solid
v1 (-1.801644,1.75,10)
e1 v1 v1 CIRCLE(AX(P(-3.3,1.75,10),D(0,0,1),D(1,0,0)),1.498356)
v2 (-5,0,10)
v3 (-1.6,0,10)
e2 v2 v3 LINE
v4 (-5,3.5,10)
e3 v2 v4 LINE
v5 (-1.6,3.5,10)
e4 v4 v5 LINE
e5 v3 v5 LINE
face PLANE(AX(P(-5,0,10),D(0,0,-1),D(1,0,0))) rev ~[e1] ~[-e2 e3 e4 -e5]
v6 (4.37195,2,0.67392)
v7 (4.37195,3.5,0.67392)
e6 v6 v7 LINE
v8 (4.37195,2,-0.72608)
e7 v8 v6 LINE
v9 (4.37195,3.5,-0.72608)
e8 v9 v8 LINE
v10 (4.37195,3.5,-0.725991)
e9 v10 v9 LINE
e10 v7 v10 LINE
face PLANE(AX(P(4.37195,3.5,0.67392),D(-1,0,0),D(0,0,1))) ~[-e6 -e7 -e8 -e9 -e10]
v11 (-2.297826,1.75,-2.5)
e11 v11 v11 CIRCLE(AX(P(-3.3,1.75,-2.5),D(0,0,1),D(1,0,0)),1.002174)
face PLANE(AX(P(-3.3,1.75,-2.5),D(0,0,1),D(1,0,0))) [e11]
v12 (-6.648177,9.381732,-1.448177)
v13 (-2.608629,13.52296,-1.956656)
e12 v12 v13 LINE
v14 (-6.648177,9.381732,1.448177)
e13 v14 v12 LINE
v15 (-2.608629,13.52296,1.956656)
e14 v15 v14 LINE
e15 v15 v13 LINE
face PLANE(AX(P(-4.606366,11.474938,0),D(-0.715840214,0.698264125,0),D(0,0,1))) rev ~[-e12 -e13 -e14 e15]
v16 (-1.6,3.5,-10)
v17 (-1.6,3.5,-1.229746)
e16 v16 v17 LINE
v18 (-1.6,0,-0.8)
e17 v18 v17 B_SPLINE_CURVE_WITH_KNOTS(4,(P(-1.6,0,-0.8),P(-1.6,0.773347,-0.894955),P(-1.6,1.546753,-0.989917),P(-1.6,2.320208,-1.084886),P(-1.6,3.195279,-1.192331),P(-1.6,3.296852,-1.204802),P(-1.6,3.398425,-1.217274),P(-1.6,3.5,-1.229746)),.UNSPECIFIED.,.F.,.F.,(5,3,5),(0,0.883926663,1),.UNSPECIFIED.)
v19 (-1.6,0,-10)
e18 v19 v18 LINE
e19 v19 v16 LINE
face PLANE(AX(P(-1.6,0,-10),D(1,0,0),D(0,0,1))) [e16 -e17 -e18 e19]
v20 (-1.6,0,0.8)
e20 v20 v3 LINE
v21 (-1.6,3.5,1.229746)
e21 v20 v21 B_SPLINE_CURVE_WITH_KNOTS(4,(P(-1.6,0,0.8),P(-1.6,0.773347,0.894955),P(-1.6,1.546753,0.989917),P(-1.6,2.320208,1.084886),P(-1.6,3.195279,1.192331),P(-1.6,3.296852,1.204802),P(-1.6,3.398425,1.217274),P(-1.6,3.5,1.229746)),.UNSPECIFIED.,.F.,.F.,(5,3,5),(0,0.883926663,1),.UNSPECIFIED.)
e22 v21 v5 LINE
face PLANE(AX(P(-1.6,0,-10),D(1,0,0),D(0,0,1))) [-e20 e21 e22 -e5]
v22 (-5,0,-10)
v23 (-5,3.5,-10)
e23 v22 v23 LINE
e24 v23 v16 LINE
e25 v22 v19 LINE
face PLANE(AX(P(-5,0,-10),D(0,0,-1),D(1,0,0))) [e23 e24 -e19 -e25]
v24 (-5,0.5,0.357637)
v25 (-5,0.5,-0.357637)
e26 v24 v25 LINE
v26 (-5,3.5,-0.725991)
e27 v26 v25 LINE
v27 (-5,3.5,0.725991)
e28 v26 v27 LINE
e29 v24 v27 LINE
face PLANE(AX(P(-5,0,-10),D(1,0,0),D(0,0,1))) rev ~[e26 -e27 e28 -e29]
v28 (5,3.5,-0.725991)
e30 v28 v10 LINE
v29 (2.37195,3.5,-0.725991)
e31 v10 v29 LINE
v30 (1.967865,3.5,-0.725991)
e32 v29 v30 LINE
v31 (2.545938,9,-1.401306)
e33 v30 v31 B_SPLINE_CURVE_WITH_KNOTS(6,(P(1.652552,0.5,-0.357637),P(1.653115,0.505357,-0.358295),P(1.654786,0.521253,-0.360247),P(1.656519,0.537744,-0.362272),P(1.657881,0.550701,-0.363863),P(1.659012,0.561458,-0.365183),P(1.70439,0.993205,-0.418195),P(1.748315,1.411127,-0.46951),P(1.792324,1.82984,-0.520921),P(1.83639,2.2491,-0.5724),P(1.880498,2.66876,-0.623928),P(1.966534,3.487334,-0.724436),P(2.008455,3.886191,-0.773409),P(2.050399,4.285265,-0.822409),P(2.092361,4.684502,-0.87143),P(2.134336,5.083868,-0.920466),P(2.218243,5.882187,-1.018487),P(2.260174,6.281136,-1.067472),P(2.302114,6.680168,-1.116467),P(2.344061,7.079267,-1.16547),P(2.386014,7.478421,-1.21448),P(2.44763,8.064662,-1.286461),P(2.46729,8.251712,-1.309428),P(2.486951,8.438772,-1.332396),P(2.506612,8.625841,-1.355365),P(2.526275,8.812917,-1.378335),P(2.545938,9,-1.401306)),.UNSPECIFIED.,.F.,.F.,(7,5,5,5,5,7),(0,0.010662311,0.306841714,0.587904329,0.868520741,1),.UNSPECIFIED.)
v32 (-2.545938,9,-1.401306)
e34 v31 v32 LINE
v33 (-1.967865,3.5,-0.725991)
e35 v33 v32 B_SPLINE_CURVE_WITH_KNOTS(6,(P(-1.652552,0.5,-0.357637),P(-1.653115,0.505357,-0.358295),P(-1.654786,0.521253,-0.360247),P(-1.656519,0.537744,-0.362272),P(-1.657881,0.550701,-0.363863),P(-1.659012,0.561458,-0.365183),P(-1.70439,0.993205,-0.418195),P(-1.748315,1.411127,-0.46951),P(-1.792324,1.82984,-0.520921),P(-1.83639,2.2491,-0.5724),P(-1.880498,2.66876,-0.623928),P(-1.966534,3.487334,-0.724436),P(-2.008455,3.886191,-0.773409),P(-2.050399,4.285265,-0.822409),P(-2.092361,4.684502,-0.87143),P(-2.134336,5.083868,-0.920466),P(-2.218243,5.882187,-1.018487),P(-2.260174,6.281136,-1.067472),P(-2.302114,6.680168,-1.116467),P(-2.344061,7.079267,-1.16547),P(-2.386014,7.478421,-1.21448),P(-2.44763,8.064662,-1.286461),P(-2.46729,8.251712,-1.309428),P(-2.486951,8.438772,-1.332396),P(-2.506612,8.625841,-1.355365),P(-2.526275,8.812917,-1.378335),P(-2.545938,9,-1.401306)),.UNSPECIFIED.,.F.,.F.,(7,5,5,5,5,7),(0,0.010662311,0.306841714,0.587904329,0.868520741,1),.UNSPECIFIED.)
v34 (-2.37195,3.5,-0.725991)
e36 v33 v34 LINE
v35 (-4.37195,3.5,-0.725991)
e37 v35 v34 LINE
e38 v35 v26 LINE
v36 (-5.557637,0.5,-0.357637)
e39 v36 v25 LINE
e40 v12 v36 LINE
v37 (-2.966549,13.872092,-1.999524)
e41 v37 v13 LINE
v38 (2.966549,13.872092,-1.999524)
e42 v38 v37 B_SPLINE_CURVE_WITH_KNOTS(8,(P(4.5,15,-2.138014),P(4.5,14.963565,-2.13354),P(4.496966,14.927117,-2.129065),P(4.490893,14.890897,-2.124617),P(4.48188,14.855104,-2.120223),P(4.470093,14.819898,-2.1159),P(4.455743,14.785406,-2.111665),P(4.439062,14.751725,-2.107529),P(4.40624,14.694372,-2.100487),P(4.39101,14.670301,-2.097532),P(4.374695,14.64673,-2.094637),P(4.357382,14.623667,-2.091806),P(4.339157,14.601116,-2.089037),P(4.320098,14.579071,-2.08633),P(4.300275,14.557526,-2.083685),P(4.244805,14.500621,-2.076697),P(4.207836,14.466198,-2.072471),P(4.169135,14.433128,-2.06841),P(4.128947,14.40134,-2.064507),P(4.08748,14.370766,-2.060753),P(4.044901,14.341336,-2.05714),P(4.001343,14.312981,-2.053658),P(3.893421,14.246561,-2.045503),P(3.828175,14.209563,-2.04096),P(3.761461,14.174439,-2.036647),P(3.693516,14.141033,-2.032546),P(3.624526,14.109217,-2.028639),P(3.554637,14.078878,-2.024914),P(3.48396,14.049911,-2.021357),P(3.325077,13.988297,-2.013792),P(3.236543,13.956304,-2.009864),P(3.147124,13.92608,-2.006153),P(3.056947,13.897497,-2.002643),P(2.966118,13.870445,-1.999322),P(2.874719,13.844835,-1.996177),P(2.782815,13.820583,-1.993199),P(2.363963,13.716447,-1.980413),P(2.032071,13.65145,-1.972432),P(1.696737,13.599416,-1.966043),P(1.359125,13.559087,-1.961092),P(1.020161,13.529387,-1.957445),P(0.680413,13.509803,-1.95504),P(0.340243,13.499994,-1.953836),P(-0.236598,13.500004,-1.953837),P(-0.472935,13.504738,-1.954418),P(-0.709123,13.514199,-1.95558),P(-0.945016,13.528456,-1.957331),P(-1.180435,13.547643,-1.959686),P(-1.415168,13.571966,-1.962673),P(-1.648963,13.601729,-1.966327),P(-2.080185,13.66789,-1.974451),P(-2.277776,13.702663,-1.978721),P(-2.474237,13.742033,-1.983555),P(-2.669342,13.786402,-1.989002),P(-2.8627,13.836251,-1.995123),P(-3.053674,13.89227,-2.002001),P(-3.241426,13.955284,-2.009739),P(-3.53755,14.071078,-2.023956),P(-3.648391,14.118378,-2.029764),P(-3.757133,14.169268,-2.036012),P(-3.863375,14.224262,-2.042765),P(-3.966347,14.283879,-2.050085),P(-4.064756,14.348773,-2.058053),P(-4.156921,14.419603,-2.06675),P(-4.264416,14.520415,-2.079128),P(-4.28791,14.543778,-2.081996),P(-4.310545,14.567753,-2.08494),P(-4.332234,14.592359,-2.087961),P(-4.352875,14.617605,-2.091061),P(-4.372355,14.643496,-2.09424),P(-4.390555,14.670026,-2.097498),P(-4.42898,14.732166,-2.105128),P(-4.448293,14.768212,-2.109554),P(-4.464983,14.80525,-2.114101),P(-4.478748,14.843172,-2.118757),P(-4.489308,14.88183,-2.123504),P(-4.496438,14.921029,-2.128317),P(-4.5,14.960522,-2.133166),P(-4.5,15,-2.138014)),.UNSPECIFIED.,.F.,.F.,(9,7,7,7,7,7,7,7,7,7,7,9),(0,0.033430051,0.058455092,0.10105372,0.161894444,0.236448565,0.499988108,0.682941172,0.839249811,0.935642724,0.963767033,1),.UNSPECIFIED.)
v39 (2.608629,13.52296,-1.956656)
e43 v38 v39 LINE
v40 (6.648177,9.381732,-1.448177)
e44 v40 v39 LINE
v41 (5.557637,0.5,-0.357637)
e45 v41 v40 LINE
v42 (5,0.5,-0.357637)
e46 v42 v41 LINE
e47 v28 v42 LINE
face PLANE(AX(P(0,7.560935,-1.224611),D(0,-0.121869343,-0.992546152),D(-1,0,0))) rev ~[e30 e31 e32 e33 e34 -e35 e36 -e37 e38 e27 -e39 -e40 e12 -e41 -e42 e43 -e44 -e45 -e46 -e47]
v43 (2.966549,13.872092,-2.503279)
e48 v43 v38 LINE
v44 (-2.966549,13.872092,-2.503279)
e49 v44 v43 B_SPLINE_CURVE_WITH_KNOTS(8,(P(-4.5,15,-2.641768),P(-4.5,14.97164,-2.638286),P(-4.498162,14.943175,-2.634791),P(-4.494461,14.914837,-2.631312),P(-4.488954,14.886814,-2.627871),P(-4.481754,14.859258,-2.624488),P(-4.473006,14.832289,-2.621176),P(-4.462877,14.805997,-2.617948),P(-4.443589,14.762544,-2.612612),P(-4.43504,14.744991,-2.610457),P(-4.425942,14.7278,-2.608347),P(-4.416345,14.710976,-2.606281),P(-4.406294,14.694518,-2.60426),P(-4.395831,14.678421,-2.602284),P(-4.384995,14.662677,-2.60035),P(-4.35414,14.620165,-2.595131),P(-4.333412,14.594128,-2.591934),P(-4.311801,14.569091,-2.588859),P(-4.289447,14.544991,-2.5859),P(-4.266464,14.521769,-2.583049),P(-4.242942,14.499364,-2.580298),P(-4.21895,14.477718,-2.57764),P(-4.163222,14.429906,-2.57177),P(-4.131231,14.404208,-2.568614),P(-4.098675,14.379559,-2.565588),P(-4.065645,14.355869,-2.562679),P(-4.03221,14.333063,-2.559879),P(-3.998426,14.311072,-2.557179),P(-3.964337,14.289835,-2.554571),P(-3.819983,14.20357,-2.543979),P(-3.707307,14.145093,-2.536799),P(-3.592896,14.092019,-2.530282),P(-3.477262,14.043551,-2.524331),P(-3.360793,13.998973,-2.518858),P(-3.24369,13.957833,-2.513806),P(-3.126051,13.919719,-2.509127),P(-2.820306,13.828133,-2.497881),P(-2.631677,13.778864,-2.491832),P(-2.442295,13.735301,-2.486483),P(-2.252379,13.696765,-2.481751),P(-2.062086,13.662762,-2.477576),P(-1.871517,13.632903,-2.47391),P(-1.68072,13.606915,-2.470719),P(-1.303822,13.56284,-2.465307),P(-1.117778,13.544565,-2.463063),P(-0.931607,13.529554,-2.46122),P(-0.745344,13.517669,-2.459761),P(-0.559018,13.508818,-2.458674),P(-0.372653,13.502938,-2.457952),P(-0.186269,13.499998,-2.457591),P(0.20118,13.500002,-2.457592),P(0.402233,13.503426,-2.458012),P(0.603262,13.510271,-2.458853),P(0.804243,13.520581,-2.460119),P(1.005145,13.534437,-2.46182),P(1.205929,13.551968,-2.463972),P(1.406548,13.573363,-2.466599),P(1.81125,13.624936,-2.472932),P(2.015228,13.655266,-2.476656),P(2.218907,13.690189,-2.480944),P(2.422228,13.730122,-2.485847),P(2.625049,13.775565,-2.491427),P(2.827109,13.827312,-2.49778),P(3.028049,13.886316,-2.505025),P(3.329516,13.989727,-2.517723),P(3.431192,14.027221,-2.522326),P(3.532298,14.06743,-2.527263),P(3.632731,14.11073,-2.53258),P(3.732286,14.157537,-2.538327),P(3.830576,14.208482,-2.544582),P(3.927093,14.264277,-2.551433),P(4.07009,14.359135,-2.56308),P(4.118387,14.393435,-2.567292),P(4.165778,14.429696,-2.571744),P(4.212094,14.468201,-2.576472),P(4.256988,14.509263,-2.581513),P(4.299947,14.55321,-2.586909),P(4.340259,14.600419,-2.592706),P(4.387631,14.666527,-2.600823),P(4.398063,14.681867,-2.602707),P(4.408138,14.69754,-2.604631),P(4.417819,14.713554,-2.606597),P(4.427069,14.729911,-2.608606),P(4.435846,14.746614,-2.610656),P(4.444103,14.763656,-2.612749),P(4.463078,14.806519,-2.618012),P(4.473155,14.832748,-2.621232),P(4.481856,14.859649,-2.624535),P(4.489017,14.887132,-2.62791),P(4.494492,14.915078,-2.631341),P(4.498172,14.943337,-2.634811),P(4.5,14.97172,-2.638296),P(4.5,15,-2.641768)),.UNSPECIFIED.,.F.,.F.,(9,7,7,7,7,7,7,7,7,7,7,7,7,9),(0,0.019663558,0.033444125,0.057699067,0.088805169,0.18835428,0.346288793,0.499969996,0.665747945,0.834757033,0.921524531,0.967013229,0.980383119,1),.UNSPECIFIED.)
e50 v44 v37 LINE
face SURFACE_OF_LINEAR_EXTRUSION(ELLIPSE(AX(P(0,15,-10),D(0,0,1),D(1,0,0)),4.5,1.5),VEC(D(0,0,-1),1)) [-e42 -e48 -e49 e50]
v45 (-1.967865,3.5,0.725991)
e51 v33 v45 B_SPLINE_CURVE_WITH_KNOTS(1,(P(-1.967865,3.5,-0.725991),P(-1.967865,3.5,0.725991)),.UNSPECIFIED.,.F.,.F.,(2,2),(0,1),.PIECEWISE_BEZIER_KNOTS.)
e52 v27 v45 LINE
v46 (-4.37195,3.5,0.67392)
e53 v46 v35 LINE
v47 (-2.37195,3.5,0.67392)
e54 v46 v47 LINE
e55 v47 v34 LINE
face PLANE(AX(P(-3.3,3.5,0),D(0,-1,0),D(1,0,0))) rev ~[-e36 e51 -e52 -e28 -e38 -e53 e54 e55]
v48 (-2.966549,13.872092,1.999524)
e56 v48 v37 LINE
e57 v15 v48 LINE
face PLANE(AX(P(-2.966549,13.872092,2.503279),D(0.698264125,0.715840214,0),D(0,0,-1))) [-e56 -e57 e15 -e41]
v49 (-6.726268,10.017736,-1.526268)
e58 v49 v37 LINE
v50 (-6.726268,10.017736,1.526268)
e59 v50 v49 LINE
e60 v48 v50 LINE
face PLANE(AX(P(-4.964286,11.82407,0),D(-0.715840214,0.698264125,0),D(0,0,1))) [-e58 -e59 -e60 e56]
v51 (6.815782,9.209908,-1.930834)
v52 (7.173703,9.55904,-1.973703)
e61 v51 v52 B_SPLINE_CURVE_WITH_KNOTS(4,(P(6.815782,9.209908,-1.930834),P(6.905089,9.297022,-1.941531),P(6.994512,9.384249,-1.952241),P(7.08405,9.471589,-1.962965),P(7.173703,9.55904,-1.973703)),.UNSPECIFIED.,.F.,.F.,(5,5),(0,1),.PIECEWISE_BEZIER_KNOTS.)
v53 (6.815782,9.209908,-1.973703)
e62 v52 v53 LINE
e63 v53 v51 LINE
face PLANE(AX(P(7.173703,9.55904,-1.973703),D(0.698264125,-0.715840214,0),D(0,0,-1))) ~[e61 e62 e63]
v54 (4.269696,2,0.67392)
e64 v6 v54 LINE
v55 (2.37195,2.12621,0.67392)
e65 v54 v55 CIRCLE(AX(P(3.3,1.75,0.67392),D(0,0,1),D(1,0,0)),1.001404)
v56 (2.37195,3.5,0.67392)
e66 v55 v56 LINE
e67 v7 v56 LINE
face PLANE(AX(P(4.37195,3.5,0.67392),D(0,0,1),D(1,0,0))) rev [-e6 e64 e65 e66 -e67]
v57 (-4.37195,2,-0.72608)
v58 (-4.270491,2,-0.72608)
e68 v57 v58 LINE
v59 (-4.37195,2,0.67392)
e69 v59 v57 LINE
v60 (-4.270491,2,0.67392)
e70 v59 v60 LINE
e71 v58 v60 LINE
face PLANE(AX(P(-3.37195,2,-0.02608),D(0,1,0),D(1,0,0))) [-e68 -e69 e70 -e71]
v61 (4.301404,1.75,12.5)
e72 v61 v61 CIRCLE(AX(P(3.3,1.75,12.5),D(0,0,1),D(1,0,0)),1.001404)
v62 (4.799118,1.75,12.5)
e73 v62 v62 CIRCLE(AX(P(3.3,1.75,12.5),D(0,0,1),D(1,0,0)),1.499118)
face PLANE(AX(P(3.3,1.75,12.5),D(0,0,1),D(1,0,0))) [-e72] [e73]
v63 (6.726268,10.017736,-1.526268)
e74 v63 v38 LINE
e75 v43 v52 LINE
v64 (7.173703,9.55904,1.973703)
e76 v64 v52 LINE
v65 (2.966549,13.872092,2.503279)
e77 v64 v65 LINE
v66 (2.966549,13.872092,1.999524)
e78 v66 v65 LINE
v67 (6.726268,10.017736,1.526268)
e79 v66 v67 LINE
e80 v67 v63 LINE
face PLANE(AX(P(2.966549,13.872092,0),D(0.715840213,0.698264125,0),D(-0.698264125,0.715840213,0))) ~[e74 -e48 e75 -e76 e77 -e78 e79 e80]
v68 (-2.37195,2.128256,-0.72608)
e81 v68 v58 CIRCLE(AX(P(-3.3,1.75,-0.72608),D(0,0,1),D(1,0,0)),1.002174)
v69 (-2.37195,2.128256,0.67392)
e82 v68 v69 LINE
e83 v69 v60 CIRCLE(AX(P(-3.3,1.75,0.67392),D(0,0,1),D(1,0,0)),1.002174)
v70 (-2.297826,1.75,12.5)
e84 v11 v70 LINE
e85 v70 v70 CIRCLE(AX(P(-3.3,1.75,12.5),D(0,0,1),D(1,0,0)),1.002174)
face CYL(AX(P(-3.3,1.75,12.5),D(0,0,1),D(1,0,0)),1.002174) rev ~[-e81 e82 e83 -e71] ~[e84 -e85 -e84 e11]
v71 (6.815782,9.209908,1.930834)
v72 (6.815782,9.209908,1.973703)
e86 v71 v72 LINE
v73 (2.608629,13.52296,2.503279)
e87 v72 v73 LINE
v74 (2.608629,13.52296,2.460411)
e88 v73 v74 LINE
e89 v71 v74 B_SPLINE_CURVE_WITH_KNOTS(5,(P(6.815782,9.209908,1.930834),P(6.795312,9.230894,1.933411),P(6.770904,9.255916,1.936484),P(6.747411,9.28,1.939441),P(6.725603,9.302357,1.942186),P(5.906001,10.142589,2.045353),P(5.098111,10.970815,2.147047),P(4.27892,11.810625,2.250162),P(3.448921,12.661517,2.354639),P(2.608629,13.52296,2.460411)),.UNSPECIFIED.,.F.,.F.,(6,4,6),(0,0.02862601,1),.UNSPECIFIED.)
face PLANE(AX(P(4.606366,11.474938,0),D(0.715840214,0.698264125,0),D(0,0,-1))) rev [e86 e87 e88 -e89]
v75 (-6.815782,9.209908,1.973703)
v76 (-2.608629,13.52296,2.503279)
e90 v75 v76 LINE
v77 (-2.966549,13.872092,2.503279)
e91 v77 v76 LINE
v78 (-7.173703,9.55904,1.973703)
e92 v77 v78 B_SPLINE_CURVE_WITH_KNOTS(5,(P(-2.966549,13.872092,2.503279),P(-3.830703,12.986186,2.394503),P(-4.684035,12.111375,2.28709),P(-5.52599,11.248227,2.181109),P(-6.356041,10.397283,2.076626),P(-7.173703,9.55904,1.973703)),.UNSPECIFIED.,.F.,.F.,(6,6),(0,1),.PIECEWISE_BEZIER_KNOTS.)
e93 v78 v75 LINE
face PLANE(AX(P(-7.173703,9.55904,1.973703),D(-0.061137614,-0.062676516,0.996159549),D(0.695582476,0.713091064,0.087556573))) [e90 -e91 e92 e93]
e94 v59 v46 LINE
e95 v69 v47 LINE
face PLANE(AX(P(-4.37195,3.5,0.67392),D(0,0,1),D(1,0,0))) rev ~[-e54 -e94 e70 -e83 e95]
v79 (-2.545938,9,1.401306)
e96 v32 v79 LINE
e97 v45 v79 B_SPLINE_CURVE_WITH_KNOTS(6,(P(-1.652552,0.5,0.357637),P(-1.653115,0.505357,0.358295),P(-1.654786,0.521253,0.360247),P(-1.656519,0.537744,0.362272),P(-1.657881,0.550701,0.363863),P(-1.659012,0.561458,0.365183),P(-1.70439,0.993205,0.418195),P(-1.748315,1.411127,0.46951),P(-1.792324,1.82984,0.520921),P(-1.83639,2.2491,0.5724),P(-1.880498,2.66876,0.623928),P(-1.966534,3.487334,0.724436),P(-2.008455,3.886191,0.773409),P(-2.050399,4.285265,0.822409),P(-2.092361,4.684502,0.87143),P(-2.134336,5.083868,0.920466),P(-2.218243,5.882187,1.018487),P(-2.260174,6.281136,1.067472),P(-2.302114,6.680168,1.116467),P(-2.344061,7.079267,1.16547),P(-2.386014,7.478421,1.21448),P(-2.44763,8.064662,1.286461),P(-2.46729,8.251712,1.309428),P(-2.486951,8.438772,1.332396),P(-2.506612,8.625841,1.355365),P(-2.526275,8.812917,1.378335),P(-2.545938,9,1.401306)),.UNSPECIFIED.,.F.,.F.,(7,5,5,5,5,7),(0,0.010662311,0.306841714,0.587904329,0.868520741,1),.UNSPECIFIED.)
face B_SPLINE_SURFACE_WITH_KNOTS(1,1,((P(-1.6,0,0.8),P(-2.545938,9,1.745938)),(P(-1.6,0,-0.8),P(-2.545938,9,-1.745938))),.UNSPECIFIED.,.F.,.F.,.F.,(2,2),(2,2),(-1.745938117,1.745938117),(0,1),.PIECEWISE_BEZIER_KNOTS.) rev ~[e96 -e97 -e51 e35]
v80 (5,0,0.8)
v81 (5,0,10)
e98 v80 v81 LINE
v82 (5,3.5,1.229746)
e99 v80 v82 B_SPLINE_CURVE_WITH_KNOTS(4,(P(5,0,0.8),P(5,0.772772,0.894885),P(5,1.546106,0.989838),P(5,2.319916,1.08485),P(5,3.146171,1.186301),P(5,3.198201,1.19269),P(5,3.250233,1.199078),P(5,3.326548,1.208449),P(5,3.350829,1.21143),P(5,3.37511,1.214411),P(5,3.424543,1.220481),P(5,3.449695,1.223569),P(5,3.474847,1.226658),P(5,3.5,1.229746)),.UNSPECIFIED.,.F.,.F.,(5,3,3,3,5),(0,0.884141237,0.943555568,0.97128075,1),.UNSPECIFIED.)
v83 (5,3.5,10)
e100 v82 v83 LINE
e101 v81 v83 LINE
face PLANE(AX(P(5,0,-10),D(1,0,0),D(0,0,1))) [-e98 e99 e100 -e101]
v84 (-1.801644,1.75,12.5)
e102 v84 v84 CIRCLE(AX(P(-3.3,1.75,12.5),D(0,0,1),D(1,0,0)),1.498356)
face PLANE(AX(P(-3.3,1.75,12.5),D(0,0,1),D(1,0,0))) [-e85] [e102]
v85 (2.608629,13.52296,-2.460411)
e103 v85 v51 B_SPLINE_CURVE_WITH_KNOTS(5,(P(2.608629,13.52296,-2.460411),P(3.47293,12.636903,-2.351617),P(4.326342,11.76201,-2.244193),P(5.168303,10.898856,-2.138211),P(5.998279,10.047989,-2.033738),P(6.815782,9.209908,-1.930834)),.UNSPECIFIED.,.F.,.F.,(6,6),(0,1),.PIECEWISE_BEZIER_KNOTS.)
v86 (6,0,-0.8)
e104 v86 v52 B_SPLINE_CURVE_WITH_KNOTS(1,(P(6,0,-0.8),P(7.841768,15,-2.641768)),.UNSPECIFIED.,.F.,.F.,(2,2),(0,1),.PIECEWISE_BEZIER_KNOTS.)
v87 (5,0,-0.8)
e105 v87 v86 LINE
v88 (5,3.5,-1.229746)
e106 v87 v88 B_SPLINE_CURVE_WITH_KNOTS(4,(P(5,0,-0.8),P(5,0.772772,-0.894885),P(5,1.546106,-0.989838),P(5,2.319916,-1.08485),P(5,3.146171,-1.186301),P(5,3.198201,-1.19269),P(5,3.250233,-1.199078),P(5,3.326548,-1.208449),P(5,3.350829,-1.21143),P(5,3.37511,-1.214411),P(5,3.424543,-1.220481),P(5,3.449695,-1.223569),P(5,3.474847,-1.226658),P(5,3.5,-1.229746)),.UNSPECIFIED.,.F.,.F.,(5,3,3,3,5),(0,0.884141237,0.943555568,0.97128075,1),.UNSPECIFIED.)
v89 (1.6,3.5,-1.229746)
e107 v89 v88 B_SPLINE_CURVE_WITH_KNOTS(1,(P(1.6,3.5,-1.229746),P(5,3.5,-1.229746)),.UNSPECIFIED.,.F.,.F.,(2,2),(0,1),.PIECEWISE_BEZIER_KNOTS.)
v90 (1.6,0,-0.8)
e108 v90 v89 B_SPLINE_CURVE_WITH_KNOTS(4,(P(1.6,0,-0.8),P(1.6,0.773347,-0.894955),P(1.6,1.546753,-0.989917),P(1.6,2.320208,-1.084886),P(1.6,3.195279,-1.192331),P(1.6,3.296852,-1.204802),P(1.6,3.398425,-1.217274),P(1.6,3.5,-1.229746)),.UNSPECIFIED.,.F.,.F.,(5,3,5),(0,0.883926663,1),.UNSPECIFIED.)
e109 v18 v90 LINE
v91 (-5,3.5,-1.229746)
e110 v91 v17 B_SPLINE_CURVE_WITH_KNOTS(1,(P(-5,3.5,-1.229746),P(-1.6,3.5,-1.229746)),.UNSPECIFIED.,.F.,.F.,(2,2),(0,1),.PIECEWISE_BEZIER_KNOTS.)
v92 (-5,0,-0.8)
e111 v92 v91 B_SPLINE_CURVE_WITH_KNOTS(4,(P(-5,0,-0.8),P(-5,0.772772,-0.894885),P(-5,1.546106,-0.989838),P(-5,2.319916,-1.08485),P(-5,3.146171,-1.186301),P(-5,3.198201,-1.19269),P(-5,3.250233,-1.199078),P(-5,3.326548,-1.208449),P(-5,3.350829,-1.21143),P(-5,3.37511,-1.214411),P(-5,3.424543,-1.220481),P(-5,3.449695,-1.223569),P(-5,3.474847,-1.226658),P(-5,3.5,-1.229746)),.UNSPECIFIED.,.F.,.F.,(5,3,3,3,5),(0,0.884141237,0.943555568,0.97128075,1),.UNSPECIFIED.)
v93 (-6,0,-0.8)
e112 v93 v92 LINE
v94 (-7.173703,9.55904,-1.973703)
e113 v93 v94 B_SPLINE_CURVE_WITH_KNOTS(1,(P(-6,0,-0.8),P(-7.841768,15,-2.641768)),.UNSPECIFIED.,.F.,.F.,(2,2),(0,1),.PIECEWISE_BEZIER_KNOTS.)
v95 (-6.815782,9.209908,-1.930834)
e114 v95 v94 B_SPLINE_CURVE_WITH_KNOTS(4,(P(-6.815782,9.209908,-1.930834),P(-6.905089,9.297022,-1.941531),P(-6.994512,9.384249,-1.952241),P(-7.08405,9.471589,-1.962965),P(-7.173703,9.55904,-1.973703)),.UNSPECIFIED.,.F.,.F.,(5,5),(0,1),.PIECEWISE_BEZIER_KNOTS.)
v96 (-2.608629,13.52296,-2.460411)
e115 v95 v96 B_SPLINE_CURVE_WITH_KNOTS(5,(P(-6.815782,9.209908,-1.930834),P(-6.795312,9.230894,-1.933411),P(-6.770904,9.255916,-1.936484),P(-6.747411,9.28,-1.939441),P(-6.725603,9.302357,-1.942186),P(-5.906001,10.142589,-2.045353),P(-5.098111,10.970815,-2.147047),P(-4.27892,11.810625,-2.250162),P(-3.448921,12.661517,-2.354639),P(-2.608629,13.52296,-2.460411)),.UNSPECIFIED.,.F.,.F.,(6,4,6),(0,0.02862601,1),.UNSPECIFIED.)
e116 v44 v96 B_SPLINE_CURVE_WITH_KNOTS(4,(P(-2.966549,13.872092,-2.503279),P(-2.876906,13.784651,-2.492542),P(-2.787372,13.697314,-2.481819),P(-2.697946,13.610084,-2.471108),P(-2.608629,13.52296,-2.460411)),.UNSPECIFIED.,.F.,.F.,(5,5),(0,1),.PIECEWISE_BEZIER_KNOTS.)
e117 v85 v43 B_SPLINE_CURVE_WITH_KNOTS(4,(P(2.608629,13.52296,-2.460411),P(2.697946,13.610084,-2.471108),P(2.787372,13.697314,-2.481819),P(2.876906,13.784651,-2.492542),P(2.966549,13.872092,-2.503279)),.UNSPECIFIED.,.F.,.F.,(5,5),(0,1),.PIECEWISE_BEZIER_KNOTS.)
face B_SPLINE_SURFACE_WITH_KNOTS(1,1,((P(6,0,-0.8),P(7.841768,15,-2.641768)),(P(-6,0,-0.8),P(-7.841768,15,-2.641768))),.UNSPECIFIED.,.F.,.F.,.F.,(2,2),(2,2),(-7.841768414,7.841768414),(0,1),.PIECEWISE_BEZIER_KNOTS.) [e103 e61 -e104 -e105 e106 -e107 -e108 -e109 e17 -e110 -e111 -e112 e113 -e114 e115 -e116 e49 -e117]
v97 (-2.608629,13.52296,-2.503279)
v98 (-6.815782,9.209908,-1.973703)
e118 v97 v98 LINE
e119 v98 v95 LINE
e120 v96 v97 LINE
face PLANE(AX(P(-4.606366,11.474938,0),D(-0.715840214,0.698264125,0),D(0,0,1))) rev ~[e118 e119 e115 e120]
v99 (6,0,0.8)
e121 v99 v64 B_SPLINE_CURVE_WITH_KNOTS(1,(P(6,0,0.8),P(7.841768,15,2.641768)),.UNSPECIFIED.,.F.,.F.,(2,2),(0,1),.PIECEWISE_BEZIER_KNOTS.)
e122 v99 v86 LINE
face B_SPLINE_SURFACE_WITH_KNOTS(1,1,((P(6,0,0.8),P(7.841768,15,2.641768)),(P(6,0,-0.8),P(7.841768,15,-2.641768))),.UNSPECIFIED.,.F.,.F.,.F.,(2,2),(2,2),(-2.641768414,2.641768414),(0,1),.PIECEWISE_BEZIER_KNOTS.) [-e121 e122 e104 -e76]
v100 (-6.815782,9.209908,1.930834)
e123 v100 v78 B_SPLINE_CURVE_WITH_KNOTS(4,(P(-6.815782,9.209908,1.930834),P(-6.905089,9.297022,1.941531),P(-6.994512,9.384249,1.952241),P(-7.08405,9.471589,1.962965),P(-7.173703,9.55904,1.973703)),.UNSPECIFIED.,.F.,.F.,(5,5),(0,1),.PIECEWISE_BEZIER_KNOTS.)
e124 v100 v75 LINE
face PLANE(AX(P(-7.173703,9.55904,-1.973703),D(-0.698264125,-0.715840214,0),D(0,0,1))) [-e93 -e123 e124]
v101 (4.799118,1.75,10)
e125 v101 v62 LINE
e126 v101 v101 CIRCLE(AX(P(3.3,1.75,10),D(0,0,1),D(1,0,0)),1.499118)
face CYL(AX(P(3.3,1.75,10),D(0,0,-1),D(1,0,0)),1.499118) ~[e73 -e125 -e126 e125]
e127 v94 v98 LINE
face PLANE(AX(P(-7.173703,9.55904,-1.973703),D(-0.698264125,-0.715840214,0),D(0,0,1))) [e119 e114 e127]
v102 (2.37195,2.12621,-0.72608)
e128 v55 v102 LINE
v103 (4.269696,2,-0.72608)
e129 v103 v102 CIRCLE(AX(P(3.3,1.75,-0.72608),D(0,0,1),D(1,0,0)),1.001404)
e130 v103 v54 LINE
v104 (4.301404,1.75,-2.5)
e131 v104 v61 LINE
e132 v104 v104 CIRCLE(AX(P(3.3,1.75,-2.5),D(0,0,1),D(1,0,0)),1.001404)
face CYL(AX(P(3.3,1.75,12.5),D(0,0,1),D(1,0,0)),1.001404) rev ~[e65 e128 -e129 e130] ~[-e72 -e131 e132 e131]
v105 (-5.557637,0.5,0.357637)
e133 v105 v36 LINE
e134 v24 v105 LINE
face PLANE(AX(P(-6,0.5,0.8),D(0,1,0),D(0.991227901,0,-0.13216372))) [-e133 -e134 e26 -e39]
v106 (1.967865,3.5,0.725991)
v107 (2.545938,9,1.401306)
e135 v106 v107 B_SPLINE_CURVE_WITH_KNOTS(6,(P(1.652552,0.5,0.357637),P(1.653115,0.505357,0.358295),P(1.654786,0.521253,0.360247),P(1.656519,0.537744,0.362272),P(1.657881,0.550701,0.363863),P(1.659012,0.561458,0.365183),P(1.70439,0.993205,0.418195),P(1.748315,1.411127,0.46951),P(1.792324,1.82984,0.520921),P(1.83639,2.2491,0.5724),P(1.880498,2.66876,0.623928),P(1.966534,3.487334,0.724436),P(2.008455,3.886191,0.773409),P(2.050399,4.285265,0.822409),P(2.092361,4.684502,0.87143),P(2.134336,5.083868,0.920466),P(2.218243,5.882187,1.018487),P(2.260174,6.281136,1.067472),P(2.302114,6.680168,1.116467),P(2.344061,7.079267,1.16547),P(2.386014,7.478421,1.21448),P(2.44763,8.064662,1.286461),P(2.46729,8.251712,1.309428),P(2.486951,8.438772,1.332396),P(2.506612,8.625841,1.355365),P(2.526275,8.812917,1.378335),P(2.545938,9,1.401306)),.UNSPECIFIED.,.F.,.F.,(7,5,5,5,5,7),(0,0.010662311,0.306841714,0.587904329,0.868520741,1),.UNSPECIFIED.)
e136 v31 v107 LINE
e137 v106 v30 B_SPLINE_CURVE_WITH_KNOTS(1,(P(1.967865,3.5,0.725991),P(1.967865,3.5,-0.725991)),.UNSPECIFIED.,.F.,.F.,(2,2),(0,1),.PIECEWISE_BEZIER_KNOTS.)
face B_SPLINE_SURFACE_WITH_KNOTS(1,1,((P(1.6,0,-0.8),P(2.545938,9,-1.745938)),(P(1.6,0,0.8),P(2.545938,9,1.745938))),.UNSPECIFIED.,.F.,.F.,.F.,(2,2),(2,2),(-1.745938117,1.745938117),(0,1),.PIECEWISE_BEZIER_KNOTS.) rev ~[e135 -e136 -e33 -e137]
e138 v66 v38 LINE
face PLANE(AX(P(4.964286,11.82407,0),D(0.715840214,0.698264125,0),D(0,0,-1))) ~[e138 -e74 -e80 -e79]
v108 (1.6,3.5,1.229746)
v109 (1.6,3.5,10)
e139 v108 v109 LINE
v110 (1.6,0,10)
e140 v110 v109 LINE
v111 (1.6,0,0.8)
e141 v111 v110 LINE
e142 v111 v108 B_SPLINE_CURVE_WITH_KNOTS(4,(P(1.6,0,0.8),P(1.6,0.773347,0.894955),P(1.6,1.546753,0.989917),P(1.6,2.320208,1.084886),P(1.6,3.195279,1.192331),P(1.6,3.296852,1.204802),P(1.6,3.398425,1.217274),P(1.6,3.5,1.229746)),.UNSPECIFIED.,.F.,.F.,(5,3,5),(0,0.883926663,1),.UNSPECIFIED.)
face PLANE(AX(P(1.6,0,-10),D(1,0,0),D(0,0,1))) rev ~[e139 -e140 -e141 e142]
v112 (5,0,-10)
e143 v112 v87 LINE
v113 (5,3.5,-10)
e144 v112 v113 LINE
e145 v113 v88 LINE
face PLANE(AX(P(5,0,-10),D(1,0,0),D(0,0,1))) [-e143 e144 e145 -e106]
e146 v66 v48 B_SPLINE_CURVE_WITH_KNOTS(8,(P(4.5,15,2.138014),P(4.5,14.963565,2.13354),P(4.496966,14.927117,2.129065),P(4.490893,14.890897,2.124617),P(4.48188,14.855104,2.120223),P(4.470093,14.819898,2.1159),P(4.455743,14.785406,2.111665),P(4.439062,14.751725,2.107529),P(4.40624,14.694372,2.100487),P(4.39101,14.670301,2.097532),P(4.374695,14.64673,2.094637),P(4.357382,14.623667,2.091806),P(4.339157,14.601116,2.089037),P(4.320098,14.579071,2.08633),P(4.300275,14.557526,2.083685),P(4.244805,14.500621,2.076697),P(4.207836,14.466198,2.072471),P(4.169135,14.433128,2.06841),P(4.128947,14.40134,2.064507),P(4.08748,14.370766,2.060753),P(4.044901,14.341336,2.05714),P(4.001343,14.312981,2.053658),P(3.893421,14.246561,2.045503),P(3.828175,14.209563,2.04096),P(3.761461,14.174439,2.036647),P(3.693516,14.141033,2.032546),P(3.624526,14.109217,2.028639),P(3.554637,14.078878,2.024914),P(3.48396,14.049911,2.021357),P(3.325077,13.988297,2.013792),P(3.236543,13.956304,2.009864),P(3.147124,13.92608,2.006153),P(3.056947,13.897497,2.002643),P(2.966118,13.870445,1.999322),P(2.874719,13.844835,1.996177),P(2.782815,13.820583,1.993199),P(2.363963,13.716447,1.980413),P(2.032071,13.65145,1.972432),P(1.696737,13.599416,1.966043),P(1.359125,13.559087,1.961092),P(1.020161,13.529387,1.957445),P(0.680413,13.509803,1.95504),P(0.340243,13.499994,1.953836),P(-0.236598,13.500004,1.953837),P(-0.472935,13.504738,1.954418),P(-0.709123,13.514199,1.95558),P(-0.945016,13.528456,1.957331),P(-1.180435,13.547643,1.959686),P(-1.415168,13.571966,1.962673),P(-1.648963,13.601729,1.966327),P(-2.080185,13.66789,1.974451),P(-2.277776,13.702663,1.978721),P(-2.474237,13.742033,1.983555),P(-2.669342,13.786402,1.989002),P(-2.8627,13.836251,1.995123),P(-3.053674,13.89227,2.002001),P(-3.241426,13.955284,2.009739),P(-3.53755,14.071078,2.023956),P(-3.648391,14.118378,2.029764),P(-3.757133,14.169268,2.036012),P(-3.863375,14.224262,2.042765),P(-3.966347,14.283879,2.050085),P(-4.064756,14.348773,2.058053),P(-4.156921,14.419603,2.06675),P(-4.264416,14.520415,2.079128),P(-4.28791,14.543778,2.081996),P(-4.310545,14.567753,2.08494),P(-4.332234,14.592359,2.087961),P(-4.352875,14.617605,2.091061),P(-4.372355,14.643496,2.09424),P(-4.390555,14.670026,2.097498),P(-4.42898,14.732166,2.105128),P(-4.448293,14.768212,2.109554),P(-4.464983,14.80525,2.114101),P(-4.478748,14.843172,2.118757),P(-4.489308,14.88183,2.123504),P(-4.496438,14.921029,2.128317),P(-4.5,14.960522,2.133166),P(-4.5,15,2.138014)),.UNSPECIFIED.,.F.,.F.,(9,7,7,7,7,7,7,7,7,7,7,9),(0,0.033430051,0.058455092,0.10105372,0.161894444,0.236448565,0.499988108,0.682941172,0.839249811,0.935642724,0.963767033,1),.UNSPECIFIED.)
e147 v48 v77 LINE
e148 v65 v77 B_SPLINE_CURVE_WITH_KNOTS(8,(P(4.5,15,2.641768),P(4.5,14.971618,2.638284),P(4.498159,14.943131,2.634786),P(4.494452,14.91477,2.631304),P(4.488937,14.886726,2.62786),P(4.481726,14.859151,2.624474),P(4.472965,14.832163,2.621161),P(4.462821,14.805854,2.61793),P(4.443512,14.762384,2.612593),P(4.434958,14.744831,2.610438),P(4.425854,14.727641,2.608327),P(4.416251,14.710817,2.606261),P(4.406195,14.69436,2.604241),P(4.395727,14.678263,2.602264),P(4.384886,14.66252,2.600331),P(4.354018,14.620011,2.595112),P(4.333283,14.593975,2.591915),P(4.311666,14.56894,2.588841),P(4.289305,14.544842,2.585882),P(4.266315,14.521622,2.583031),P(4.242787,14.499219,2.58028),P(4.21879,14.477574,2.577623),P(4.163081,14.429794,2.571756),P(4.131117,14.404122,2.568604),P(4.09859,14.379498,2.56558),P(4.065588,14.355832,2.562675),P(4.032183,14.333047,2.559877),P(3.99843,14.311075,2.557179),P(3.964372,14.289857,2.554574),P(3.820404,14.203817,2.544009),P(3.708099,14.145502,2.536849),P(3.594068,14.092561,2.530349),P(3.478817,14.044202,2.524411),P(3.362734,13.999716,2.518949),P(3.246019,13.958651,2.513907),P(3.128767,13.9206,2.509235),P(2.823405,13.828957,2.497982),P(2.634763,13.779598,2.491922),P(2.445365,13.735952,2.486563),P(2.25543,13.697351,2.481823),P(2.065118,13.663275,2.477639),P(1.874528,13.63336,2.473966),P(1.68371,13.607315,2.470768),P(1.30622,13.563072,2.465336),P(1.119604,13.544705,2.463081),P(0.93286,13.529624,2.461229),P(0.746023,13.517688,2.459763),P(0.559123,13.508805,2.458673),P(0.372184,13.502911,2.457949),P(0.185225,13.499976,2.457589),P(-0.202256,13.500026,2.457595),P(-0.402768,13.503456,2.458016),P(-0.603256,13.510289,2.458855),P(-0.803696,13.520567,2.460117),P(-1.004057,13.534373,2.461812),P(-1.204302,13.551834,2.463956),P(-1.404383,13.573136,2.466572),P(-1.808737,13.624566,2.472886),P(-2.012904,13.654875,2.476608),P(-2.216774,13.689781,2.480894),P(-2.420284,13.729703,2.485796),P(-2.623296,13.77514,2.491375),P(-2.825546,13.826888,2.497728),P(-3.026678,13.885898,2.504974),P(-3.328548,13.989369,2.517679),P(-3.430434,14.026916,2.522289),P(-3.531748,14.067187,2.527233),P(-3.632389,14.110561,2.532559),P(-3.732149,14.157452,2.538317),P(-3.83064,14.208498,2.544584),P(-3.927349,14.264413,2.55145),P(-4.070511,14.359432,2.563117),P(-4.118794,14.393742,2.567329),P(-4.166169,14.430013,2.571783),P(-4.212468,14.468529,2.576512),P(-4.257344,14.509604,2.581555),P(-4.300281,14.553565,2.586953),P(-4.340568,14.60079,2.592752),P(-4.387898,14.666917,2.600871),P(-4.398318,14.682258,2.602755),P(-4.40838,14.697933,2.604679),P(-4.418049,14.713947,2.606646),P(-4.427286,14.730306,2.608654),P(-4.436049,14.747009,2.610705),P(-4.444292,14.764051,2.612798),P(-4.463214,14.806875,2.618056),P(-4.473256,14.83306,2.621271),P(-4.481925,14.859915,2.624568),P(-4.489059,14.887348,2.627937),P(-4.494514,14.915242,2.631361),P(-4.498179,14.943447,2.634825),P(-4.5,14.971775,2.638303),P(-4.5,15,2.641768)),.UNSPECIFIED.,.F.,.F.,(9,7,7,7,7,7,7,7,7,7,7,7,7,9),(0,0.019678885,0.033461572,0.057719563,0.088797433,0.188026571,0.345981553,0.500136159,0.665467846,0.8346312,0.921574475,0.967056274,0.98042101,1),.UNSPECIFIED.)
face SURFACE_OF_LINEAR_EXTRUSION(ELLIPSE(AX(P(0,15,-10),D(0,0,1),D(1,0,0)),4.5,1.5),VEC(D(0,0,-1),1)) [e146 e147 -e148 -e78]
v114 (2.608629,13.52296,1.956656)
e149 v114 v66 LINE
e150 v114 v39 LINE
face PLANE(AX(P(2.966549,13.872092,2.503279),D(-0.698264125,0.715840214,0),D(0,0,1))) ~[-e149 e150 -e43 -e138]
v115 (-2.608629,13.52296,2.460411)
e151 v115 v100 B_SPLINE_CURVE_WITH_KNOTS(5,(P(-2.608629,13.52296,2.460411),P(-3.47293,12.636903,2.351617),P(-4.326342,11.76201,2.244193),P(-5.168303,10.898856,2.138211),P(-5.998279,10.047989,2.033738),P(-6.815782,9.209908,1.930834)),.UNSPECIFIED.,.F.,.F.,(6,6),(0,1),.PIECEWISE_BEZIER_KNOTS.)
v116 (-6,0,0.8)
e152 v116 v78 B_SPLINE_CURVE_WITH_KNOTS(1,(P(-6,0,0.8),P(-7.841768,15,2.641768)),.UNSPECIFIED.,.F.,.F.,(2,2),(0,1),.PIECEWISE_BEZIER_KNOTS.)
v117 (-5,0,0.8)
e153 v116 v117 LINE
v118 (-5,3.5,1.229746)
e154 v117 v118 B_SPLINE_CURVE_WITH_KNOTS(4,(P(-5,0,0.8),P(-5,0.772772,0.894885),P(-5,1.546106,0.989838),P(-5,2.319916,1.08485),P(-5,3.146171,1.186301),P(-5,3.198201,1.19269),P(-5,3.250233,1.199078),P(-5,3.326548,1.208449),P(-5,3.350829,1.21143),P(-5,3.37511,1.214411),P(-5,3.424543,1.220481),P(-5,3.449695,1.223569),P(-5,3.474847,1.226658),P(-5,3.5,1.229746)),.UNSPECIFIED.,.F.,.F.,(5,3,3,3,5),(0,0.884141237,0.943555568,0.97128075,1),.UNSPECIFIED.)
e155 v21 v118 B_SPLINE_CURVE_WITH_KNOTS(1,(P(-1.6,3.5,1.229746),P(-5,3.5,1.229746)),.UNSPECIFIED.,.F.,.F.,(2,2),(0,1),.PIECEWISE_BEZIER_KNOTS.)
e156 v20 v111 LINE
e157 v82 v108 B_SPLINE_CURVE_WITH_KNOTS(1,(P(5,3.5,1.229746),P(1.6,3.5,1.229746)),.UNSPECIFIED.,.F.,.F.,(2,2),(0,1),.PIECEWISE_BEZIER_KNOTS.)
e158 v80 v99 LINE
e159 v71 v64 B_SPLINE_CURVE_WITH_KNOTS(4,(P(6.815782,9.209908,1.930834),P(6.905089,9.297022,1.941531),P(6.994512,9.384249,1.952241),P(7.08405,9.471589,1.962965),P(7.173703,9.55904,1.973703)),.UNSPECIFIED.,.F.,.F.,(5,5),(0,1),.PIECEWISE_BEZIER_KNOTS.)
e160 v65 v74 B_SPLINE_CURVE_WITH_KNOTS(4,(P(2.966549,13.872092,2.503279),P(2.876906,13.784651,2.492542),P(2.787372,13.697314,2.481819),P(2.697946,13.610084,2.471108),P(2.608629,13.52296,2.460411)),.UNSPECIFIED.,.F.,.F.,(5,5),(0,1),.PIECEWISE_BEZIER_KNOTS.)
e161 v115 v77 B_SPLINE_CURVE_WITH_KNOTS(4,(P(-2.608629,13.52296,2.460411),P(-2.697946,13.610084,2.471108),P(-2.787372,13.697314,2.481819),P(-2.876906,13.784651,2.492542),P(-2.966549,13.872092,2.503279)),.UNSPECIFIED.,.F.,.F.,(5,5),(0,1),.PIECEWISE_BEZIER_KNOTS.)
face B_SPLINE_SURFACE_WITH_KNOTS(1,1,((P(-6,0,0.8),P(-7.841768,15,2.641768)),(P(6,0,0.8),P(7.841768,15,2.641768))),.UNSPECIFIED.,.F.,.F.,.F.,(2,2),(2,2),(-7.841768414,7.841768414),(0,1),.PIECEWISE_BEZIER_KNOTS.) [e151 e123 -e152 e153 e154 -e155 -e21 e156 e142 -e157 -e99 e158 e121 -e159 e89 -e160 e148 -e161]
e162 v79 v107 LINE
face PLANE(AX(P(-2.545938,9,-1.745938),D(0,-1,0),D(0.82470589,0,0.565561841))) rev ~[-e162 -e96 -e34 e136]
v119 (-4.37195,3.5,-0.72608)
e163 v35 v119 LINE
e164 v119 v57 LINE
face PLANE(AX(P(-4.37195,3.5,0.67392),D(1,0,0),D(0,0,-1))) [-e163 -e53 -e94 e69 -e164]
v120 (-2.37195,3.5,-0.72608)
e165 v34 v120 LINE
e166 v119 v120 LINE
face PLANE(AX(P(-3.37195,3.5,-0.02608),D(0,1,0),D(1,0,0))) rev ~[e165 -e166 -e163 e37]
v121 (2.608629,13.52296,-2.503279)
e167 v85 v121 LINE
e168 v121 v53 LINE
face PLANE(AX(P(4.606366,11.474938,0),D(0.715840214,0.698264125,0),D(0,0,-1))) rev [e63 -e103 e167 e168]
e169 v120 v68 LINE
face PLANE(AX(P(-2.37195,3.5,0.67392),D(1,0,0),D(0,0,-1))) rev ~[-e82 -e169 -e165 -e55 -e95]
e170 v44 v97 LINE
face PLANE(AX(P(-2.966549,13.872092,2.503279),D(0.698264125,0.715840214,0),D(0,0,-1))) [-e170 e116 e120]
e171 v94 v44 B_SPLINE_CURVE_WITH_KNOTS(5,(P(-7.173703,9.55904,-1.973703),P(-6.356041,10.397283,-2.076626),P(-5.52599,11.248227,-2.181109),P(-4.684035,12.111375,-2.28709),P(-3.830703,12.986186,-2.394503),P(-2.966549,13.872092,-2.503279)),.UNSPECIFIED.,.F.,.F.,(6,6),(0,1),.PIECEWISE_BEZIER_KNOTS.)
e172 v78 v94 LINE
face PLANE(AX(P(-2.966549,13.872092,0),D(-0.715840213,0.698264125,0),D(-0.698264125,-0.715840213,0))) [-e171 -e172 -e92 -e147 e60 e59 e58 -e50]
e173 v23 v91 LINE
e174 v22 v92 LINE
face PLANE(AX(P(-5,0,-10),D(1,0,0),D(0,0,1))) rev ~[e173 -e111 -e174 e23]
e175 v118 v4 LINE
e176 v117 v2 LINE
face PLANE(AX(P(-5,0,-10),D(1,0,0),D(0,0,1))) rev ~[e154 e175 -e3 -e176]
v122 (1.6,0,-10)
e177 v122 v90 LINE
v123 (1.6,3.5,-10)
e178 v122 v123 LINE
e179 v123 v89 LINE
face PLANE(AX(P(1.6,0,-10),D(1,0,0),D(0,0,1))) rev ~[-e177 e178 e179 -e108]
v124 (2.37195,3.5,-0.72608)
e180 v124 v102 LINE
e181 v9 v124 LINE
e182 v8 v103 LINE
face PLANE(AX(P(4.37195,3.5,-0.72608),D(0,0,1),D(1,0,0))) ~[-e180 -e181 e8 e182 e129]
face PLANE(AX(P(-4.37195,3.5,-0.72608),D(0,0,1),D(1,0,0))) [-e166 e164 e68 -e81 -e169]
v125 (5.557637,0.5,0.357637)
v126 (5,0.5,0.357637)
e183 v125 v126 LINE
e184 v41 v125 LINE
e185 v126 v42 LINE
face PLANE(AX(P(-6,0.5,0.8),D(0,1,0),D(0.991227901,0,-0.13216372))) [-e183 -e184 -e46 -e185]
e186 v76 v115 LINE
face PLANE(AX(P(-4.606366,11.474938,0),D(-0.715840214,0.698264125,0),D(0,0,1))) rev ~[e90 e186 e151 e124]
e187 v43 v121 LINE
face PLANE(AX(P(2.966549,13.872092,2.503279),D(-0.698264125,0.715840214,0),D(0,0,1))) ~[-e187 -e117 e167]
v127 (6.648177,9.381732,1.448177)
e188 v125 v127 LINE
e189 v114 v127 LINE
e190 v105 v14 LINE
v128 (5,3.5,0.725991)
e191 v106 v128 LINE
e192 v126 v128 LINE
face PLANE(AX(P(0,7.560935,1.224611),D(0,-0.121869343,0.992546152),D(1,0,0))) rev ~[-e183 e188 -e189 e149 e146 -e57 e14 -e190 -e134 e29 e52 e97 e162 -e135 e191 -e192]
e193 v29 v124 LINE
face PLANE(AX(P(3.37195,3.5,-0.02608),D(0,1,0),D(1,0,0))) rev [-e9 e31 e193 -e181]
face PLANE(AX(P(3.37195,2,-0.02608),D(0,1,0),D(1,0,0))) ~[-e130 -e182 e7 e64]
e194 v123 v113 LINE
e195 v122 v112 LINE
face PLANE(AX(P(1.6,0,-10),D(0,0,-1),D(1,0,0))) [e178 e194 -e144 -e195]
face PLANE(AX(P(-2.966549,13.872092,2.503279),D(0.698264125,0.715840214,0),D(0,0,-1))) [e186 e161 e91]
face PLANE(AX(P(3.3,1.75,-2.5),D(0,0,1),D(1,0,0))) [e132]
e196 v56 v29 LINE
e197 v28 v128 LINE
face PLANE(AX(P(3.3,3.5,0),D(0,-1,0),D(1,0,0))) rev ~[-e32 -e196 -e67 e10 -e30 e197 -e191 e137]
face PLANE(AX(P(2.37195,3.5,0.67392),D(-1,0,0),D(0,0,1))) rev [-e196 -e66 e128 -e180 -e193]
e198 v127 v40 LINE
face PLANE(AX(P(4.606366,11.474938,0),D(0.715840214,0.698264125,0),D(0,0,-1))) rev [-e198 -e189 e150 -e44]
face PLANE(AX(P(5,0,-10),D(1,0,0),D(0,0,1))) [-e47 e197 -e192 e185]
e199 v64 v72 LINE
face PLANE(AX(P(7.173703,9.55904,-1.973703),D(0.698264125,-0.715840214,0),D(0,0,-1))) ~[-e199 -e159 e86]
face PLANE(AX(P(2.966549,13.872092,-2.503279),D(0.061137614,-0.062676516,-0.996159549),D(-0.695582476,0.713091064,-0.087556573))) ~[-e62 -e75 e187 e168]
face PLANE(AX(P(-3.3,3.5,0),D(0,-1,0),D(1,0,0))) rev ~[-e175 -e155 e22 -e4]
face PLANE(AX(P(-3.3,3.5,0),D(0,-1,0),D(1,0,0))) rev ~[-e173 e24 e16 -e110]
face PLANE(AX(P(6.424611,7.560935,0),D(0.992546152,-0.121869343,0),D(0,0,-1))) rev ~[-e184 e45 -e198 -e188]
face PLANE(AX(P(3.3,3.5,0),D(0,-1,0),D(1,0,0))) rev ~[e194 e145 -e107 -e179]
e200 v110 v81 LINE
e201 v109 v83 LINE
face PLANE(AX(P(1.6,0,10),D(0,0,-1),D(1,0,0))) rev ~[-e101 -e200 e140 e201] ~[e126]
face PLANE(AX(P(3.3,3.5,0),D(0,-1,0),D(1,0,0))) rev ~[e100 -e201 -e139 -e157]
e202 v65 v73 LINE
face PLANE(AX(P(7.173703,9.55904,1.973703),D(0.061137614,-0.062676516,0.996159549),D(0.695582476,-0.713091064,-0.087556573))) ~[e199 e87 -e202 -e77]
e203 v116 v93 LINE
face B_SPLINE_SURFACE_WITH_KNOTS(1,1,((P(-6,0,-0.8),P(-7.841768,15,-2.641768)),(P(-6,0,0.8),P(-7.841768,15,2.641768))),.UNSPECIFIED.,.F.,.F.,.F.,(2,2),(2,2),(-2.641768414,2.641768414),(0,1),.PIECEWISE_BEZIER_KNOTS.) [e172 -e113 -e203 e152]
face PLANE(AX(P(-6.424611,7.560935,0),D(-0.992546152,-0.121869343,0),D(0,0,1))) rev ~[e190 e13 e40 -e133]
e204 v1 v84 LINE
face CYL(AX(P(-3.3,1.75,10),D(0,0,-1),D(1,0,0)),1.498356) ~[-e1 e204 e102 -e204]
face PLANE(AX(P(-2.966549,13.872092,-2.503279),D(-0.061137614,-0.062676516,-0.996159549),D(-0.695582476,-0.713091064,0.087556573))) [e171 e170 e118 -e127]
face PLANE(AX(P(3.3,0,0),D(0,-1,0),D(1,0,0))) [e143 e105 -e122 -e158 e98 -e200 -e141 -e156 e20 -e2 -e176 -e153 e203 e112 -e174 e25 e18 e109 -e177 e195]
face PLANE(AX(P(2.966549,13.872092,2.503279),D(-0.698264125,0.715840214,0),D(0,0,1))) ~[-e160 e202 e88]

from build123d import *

# Parameters (mm, degrees)
SKETCH1_W                = 12
SKETCH1_H                = 1.6
BOSS_EXTRUDE1_DEPTH      = 15
BOSS_EXTRUDE1_TAPER      = -7
SHELL1_T                 = -0.5
SKETCH6_W                = 3.4
SKETCH6_H                = 20
BOSS_EXTRUDE2_DEPTH      = 3.5
BOSS_EXTRUDE2_2_DEPTH    = 3.5
CUT_EXTRUDE11_DEPTH      = 10
CUT_EXTRUDE11_DEPTH_BACK = 10
SKETCH11_RX              = 4.5
SKETCH11_RY              = 1.5
CUT_EXTRUDE12_DEPTH      = 10
BOSS_EXTRUDE3_DEPTH      = 0.5
SKETCH20_R               = 1.499118307
BOSS_EXTRUDE4_DEPTH      = 2.5
SKETCH22_R               = 1.001403974
CUT_EXTRUDE13_DEPTH      = 15
SKETCH25_W               = 2
SKETCH25_H               = 1.4
CUT_EXTRUDE14_DEPTH      = 1.5
SKETCH28_R               = 1.498355692
BOSS_EXTRUDE5_DEPTH      = 2.5
SKETCH29_R               = 1.002174376
CUT_EXTRUDE15_DEPTH      = 15
SKETCH30_W               = 3.2
SKETCH30_H               = 1.6
BOSS_EXTRUDE6_DEPTH      = 9
BOSS_EXTRUDE6_TAPER      = -6


with BuildPart() as part:
    # Sketch1 → Boss-Extrude1 (new body)
    with BuildSketch(Plane(origin=(0, 0, 0), x_dir=(1, 0, 0), z_dir=(0, 1, 0))):
        Rectangle(SKETCH1_W, SKETCH1_H)
    extrude(amount=BOSS_EXTRUDE1_DEPTH, taper=BOSS_EXTRUDE1_TAPER)

    # Shell1
    shell1_openings = [part.faces().sort_by_distance(p)[0] for p in [
        (0, 15, 0),
    ]]
    offset(amount=SHELL1_T, openings=shell1_openings, kind=Kind.INTERSECTION)

    # Sketch11 → Cut-Extrude11 (cut, two sides: drawn at the far end of the back side and taken through both)
    with BuildSketch(Plane.XY.offset(-CUT_EXTRUDE11_DEPTH_BACK)):
        with Locations((0, 15)):
            Ellipse(SKETCH11_RX, SKETCH11_RY)
    extrude(amount=CUT_EXTRUDE11_DEPTH + CUT_EXTRUDE11_DEPTH_BACK, mode=Mode.SUBTRACT)

    # Sketch18 → Cut-Extrude12 (cut, symmetric)
    with BuildSketch(Plane.XY):
        Polygon((-2.966549011, 13.872092056), (-7.173702506, 9.559039808), (-8.984967274, 15.813419698), (-2.966549011, 15.813419698), align=None)
    cut_extrude12 = extrude(amount=CUT_EXTRUDE12_DEPTH, both=True, mode=Mode.SUBTRACT)

    # Sketch19 → Boss-Extrude3 (add)
    with BuildSketch(Plane(origin=(-8.45404379, 8.246470904, 0), x_dir=(0, 0, 1), z_dir=(-0.7158402135047951, 0.6982641253346826, 0))):
        Polygon((1.973702506, 1.833605992), (2.503278732, 7.858766589), (-2.503278732, 7.858766589), (-1.973702506, 1.833605992), align=None)
    boss_extrude3 = extrude(amount=-BOSS_EXTRUDE3_DEPTH)

    # Mirror3: Boss-Extrude3 across plane
    add(boss_extrude3.mirror(Plane(origin=(0, 0, 0), x_dir=(0, 0, 1), z_dir=(1, 0, 0))))


with BuildPart() as body_2:
    # Sketch6 → Boss-Extrude2 (new body)
    with BuildSketch(Plane.XZ):
        with Locations((-3.3, 0)):
            Rectangle(SKETCH6_W, SKETCH6_H)
    extrude(amount=-BOSS_EXTRUDE2_DEPTH)


with BuildPart() as body_3:
    # Sketch6 → Boss-Extrude2 2 (new body)
    with BuildSketch(Plane.XZ):
        with Locations((3.3, 0)):
            Rectangle(SKETCH6_W, SKETCH6_H)
    extrude(amount=-BOSS_EXTRUDE2_2_DEPTH)

    # Sketch20 → Boss-Extrude4 (add)
    with BuildSketch(Plane.XY.offset(10)):
        with Locations((3.3, 1.75)):
            Circle(SKETCH20_R)
    extrude(amount=BOSS_EXTRUDE4_DEPTH)


with BuildPart() as cut_extrude13_tool:
    # Sketch22 → Cut-Extrude13 (new body)
    with BuildSketch(Plane.XY.offset(12.5)):
        with Locations((3.3, 1.75)):
            Circle(SKETCH22_R)
    extrude(amount=-CUT_EXTRUDE13_DEPTH)


with BuildPart() as part_1:
    add(part.part)

    # Cut-Extrude13: cut by cut_extrude13_tool
    add(cut_extrude13_tool.part, mode=Mode.SUBTRACT)


with BuildPart() as body_3_1:
    add(body_3.part)

    # Cut-Extrude13: cut by cut_extrude13_tool
    add(cut_extrude13_tool.part, mode=Mode.SUBTRACT)


with BuildPart() as cut_extrude14_tool:
    # Sketch25 → Cut-Extrude14 (new body)
    with BuildSketch(Plane(origin=(0, 3.5, 0), x_dir=(1, 0, 0), z_dir=(0, 1, 0))):
        with Locations((-3.371950412, 0.026080252)):
            Rectangle(SKETCH25_W, SKETCH25_H)
    cut_extrude14 = extrude(amount=-CUT_EXTRUDE14_DEPTH)


with BuildPart() as part_2:
    add(part_1.part)

    # Cut-Extrude14: cut by cut_extrude14_tool
    add(cut_extrude14_tool.part, mode=Mode.SUBTRACT)


with BuildPart() as body_2_1:
    add(body_2.part)

    # Cut-Extrude14: cut by cut_extrude14_tool
    add(cut_extrude14_tool.part, mode=Mode.SUBTRACT)

    # Sketch28 → Boss-Extrude5 (add)
    with BuildSketch(Plane.XY.offset(10)):
        with Locations((-3.3, 1.75)):
            Circle(SKETCH28_R)
    extrude(amount=BOSS_EXTRUDE5_DEPTH)


with BuildPart() as mirror6_tool:
    # Mirror6: Cut-Extrude14 across plane
    add(cut_extrude14.mirror(Plane(origin=(0, 0, 0), x_dir=(0, 0, 1), z_dir=(1, 0, 0))))


with BuildPart() as part_3:
    add(part_2.part)

    # Mirror6: cut by mirror6_tool
    add(mirror6_tool.part, mode=Mode.SUBTRACT)


with BuildPart() as body_3_2:
    add(body_3_1.part)

    # Mirror6: cut by mirror6_tool
    add(mirror6_tool.part, mode=Mode.SUBTRACT)


with BuildPart() as cut_extrude15_tool:
    # Sketch29 → Cut-Extrude15 (new body)
    with BuildSketch(Plane.XY.offset(12.5)):
        with Locations((-3.3, 1.75)):
            Circle(SKETCH29_R)
    extrude(amount=-CUT_EXTRUDE15_DEPTH)


with BuildPart() as part_4:
    add(part_3.part)

    # Cut-Extrude15: cut by cut_extrude15_tool
    add(cut_extrude15_tool.part, mode=Mode.SUBTRACT)



with BuildPart() as body_2_2:
    add(body_2_1.part)

    # Cut-Extrude15: cut by cut_extrude15_tool
    add(cut_extrude15_tool.part, mode=Mode.SUBTRACT)


with BuildPart() as part_5:
    add(part_4.part)

    add(body_2_2.part)  # Boss-Extrude6 merges body 2

    add(body_3_2.part)  # Boss-Extrude6 merges body 3
    # Sketch30 → Boss-Extrude6 (add)
    with BuildSketch(Plane.XZ):
        Rectangle(SKETCH30_W, SKETCH30_H)
    extrude(amount=-BOSS_EXTRUDE6_DEPTH, taper=BOSS_EXTRUDE6_TAPER)

    # Mirror7: Cut-Extrude12 across plane
    add(cut_extrude12.mirror(Plane(origin=(0, 0, 0), x_dir=(0, 0, 1), z_dir=(1, 0, 0))), mode=Mode.SUBTRACT)


solid = part_5.part
